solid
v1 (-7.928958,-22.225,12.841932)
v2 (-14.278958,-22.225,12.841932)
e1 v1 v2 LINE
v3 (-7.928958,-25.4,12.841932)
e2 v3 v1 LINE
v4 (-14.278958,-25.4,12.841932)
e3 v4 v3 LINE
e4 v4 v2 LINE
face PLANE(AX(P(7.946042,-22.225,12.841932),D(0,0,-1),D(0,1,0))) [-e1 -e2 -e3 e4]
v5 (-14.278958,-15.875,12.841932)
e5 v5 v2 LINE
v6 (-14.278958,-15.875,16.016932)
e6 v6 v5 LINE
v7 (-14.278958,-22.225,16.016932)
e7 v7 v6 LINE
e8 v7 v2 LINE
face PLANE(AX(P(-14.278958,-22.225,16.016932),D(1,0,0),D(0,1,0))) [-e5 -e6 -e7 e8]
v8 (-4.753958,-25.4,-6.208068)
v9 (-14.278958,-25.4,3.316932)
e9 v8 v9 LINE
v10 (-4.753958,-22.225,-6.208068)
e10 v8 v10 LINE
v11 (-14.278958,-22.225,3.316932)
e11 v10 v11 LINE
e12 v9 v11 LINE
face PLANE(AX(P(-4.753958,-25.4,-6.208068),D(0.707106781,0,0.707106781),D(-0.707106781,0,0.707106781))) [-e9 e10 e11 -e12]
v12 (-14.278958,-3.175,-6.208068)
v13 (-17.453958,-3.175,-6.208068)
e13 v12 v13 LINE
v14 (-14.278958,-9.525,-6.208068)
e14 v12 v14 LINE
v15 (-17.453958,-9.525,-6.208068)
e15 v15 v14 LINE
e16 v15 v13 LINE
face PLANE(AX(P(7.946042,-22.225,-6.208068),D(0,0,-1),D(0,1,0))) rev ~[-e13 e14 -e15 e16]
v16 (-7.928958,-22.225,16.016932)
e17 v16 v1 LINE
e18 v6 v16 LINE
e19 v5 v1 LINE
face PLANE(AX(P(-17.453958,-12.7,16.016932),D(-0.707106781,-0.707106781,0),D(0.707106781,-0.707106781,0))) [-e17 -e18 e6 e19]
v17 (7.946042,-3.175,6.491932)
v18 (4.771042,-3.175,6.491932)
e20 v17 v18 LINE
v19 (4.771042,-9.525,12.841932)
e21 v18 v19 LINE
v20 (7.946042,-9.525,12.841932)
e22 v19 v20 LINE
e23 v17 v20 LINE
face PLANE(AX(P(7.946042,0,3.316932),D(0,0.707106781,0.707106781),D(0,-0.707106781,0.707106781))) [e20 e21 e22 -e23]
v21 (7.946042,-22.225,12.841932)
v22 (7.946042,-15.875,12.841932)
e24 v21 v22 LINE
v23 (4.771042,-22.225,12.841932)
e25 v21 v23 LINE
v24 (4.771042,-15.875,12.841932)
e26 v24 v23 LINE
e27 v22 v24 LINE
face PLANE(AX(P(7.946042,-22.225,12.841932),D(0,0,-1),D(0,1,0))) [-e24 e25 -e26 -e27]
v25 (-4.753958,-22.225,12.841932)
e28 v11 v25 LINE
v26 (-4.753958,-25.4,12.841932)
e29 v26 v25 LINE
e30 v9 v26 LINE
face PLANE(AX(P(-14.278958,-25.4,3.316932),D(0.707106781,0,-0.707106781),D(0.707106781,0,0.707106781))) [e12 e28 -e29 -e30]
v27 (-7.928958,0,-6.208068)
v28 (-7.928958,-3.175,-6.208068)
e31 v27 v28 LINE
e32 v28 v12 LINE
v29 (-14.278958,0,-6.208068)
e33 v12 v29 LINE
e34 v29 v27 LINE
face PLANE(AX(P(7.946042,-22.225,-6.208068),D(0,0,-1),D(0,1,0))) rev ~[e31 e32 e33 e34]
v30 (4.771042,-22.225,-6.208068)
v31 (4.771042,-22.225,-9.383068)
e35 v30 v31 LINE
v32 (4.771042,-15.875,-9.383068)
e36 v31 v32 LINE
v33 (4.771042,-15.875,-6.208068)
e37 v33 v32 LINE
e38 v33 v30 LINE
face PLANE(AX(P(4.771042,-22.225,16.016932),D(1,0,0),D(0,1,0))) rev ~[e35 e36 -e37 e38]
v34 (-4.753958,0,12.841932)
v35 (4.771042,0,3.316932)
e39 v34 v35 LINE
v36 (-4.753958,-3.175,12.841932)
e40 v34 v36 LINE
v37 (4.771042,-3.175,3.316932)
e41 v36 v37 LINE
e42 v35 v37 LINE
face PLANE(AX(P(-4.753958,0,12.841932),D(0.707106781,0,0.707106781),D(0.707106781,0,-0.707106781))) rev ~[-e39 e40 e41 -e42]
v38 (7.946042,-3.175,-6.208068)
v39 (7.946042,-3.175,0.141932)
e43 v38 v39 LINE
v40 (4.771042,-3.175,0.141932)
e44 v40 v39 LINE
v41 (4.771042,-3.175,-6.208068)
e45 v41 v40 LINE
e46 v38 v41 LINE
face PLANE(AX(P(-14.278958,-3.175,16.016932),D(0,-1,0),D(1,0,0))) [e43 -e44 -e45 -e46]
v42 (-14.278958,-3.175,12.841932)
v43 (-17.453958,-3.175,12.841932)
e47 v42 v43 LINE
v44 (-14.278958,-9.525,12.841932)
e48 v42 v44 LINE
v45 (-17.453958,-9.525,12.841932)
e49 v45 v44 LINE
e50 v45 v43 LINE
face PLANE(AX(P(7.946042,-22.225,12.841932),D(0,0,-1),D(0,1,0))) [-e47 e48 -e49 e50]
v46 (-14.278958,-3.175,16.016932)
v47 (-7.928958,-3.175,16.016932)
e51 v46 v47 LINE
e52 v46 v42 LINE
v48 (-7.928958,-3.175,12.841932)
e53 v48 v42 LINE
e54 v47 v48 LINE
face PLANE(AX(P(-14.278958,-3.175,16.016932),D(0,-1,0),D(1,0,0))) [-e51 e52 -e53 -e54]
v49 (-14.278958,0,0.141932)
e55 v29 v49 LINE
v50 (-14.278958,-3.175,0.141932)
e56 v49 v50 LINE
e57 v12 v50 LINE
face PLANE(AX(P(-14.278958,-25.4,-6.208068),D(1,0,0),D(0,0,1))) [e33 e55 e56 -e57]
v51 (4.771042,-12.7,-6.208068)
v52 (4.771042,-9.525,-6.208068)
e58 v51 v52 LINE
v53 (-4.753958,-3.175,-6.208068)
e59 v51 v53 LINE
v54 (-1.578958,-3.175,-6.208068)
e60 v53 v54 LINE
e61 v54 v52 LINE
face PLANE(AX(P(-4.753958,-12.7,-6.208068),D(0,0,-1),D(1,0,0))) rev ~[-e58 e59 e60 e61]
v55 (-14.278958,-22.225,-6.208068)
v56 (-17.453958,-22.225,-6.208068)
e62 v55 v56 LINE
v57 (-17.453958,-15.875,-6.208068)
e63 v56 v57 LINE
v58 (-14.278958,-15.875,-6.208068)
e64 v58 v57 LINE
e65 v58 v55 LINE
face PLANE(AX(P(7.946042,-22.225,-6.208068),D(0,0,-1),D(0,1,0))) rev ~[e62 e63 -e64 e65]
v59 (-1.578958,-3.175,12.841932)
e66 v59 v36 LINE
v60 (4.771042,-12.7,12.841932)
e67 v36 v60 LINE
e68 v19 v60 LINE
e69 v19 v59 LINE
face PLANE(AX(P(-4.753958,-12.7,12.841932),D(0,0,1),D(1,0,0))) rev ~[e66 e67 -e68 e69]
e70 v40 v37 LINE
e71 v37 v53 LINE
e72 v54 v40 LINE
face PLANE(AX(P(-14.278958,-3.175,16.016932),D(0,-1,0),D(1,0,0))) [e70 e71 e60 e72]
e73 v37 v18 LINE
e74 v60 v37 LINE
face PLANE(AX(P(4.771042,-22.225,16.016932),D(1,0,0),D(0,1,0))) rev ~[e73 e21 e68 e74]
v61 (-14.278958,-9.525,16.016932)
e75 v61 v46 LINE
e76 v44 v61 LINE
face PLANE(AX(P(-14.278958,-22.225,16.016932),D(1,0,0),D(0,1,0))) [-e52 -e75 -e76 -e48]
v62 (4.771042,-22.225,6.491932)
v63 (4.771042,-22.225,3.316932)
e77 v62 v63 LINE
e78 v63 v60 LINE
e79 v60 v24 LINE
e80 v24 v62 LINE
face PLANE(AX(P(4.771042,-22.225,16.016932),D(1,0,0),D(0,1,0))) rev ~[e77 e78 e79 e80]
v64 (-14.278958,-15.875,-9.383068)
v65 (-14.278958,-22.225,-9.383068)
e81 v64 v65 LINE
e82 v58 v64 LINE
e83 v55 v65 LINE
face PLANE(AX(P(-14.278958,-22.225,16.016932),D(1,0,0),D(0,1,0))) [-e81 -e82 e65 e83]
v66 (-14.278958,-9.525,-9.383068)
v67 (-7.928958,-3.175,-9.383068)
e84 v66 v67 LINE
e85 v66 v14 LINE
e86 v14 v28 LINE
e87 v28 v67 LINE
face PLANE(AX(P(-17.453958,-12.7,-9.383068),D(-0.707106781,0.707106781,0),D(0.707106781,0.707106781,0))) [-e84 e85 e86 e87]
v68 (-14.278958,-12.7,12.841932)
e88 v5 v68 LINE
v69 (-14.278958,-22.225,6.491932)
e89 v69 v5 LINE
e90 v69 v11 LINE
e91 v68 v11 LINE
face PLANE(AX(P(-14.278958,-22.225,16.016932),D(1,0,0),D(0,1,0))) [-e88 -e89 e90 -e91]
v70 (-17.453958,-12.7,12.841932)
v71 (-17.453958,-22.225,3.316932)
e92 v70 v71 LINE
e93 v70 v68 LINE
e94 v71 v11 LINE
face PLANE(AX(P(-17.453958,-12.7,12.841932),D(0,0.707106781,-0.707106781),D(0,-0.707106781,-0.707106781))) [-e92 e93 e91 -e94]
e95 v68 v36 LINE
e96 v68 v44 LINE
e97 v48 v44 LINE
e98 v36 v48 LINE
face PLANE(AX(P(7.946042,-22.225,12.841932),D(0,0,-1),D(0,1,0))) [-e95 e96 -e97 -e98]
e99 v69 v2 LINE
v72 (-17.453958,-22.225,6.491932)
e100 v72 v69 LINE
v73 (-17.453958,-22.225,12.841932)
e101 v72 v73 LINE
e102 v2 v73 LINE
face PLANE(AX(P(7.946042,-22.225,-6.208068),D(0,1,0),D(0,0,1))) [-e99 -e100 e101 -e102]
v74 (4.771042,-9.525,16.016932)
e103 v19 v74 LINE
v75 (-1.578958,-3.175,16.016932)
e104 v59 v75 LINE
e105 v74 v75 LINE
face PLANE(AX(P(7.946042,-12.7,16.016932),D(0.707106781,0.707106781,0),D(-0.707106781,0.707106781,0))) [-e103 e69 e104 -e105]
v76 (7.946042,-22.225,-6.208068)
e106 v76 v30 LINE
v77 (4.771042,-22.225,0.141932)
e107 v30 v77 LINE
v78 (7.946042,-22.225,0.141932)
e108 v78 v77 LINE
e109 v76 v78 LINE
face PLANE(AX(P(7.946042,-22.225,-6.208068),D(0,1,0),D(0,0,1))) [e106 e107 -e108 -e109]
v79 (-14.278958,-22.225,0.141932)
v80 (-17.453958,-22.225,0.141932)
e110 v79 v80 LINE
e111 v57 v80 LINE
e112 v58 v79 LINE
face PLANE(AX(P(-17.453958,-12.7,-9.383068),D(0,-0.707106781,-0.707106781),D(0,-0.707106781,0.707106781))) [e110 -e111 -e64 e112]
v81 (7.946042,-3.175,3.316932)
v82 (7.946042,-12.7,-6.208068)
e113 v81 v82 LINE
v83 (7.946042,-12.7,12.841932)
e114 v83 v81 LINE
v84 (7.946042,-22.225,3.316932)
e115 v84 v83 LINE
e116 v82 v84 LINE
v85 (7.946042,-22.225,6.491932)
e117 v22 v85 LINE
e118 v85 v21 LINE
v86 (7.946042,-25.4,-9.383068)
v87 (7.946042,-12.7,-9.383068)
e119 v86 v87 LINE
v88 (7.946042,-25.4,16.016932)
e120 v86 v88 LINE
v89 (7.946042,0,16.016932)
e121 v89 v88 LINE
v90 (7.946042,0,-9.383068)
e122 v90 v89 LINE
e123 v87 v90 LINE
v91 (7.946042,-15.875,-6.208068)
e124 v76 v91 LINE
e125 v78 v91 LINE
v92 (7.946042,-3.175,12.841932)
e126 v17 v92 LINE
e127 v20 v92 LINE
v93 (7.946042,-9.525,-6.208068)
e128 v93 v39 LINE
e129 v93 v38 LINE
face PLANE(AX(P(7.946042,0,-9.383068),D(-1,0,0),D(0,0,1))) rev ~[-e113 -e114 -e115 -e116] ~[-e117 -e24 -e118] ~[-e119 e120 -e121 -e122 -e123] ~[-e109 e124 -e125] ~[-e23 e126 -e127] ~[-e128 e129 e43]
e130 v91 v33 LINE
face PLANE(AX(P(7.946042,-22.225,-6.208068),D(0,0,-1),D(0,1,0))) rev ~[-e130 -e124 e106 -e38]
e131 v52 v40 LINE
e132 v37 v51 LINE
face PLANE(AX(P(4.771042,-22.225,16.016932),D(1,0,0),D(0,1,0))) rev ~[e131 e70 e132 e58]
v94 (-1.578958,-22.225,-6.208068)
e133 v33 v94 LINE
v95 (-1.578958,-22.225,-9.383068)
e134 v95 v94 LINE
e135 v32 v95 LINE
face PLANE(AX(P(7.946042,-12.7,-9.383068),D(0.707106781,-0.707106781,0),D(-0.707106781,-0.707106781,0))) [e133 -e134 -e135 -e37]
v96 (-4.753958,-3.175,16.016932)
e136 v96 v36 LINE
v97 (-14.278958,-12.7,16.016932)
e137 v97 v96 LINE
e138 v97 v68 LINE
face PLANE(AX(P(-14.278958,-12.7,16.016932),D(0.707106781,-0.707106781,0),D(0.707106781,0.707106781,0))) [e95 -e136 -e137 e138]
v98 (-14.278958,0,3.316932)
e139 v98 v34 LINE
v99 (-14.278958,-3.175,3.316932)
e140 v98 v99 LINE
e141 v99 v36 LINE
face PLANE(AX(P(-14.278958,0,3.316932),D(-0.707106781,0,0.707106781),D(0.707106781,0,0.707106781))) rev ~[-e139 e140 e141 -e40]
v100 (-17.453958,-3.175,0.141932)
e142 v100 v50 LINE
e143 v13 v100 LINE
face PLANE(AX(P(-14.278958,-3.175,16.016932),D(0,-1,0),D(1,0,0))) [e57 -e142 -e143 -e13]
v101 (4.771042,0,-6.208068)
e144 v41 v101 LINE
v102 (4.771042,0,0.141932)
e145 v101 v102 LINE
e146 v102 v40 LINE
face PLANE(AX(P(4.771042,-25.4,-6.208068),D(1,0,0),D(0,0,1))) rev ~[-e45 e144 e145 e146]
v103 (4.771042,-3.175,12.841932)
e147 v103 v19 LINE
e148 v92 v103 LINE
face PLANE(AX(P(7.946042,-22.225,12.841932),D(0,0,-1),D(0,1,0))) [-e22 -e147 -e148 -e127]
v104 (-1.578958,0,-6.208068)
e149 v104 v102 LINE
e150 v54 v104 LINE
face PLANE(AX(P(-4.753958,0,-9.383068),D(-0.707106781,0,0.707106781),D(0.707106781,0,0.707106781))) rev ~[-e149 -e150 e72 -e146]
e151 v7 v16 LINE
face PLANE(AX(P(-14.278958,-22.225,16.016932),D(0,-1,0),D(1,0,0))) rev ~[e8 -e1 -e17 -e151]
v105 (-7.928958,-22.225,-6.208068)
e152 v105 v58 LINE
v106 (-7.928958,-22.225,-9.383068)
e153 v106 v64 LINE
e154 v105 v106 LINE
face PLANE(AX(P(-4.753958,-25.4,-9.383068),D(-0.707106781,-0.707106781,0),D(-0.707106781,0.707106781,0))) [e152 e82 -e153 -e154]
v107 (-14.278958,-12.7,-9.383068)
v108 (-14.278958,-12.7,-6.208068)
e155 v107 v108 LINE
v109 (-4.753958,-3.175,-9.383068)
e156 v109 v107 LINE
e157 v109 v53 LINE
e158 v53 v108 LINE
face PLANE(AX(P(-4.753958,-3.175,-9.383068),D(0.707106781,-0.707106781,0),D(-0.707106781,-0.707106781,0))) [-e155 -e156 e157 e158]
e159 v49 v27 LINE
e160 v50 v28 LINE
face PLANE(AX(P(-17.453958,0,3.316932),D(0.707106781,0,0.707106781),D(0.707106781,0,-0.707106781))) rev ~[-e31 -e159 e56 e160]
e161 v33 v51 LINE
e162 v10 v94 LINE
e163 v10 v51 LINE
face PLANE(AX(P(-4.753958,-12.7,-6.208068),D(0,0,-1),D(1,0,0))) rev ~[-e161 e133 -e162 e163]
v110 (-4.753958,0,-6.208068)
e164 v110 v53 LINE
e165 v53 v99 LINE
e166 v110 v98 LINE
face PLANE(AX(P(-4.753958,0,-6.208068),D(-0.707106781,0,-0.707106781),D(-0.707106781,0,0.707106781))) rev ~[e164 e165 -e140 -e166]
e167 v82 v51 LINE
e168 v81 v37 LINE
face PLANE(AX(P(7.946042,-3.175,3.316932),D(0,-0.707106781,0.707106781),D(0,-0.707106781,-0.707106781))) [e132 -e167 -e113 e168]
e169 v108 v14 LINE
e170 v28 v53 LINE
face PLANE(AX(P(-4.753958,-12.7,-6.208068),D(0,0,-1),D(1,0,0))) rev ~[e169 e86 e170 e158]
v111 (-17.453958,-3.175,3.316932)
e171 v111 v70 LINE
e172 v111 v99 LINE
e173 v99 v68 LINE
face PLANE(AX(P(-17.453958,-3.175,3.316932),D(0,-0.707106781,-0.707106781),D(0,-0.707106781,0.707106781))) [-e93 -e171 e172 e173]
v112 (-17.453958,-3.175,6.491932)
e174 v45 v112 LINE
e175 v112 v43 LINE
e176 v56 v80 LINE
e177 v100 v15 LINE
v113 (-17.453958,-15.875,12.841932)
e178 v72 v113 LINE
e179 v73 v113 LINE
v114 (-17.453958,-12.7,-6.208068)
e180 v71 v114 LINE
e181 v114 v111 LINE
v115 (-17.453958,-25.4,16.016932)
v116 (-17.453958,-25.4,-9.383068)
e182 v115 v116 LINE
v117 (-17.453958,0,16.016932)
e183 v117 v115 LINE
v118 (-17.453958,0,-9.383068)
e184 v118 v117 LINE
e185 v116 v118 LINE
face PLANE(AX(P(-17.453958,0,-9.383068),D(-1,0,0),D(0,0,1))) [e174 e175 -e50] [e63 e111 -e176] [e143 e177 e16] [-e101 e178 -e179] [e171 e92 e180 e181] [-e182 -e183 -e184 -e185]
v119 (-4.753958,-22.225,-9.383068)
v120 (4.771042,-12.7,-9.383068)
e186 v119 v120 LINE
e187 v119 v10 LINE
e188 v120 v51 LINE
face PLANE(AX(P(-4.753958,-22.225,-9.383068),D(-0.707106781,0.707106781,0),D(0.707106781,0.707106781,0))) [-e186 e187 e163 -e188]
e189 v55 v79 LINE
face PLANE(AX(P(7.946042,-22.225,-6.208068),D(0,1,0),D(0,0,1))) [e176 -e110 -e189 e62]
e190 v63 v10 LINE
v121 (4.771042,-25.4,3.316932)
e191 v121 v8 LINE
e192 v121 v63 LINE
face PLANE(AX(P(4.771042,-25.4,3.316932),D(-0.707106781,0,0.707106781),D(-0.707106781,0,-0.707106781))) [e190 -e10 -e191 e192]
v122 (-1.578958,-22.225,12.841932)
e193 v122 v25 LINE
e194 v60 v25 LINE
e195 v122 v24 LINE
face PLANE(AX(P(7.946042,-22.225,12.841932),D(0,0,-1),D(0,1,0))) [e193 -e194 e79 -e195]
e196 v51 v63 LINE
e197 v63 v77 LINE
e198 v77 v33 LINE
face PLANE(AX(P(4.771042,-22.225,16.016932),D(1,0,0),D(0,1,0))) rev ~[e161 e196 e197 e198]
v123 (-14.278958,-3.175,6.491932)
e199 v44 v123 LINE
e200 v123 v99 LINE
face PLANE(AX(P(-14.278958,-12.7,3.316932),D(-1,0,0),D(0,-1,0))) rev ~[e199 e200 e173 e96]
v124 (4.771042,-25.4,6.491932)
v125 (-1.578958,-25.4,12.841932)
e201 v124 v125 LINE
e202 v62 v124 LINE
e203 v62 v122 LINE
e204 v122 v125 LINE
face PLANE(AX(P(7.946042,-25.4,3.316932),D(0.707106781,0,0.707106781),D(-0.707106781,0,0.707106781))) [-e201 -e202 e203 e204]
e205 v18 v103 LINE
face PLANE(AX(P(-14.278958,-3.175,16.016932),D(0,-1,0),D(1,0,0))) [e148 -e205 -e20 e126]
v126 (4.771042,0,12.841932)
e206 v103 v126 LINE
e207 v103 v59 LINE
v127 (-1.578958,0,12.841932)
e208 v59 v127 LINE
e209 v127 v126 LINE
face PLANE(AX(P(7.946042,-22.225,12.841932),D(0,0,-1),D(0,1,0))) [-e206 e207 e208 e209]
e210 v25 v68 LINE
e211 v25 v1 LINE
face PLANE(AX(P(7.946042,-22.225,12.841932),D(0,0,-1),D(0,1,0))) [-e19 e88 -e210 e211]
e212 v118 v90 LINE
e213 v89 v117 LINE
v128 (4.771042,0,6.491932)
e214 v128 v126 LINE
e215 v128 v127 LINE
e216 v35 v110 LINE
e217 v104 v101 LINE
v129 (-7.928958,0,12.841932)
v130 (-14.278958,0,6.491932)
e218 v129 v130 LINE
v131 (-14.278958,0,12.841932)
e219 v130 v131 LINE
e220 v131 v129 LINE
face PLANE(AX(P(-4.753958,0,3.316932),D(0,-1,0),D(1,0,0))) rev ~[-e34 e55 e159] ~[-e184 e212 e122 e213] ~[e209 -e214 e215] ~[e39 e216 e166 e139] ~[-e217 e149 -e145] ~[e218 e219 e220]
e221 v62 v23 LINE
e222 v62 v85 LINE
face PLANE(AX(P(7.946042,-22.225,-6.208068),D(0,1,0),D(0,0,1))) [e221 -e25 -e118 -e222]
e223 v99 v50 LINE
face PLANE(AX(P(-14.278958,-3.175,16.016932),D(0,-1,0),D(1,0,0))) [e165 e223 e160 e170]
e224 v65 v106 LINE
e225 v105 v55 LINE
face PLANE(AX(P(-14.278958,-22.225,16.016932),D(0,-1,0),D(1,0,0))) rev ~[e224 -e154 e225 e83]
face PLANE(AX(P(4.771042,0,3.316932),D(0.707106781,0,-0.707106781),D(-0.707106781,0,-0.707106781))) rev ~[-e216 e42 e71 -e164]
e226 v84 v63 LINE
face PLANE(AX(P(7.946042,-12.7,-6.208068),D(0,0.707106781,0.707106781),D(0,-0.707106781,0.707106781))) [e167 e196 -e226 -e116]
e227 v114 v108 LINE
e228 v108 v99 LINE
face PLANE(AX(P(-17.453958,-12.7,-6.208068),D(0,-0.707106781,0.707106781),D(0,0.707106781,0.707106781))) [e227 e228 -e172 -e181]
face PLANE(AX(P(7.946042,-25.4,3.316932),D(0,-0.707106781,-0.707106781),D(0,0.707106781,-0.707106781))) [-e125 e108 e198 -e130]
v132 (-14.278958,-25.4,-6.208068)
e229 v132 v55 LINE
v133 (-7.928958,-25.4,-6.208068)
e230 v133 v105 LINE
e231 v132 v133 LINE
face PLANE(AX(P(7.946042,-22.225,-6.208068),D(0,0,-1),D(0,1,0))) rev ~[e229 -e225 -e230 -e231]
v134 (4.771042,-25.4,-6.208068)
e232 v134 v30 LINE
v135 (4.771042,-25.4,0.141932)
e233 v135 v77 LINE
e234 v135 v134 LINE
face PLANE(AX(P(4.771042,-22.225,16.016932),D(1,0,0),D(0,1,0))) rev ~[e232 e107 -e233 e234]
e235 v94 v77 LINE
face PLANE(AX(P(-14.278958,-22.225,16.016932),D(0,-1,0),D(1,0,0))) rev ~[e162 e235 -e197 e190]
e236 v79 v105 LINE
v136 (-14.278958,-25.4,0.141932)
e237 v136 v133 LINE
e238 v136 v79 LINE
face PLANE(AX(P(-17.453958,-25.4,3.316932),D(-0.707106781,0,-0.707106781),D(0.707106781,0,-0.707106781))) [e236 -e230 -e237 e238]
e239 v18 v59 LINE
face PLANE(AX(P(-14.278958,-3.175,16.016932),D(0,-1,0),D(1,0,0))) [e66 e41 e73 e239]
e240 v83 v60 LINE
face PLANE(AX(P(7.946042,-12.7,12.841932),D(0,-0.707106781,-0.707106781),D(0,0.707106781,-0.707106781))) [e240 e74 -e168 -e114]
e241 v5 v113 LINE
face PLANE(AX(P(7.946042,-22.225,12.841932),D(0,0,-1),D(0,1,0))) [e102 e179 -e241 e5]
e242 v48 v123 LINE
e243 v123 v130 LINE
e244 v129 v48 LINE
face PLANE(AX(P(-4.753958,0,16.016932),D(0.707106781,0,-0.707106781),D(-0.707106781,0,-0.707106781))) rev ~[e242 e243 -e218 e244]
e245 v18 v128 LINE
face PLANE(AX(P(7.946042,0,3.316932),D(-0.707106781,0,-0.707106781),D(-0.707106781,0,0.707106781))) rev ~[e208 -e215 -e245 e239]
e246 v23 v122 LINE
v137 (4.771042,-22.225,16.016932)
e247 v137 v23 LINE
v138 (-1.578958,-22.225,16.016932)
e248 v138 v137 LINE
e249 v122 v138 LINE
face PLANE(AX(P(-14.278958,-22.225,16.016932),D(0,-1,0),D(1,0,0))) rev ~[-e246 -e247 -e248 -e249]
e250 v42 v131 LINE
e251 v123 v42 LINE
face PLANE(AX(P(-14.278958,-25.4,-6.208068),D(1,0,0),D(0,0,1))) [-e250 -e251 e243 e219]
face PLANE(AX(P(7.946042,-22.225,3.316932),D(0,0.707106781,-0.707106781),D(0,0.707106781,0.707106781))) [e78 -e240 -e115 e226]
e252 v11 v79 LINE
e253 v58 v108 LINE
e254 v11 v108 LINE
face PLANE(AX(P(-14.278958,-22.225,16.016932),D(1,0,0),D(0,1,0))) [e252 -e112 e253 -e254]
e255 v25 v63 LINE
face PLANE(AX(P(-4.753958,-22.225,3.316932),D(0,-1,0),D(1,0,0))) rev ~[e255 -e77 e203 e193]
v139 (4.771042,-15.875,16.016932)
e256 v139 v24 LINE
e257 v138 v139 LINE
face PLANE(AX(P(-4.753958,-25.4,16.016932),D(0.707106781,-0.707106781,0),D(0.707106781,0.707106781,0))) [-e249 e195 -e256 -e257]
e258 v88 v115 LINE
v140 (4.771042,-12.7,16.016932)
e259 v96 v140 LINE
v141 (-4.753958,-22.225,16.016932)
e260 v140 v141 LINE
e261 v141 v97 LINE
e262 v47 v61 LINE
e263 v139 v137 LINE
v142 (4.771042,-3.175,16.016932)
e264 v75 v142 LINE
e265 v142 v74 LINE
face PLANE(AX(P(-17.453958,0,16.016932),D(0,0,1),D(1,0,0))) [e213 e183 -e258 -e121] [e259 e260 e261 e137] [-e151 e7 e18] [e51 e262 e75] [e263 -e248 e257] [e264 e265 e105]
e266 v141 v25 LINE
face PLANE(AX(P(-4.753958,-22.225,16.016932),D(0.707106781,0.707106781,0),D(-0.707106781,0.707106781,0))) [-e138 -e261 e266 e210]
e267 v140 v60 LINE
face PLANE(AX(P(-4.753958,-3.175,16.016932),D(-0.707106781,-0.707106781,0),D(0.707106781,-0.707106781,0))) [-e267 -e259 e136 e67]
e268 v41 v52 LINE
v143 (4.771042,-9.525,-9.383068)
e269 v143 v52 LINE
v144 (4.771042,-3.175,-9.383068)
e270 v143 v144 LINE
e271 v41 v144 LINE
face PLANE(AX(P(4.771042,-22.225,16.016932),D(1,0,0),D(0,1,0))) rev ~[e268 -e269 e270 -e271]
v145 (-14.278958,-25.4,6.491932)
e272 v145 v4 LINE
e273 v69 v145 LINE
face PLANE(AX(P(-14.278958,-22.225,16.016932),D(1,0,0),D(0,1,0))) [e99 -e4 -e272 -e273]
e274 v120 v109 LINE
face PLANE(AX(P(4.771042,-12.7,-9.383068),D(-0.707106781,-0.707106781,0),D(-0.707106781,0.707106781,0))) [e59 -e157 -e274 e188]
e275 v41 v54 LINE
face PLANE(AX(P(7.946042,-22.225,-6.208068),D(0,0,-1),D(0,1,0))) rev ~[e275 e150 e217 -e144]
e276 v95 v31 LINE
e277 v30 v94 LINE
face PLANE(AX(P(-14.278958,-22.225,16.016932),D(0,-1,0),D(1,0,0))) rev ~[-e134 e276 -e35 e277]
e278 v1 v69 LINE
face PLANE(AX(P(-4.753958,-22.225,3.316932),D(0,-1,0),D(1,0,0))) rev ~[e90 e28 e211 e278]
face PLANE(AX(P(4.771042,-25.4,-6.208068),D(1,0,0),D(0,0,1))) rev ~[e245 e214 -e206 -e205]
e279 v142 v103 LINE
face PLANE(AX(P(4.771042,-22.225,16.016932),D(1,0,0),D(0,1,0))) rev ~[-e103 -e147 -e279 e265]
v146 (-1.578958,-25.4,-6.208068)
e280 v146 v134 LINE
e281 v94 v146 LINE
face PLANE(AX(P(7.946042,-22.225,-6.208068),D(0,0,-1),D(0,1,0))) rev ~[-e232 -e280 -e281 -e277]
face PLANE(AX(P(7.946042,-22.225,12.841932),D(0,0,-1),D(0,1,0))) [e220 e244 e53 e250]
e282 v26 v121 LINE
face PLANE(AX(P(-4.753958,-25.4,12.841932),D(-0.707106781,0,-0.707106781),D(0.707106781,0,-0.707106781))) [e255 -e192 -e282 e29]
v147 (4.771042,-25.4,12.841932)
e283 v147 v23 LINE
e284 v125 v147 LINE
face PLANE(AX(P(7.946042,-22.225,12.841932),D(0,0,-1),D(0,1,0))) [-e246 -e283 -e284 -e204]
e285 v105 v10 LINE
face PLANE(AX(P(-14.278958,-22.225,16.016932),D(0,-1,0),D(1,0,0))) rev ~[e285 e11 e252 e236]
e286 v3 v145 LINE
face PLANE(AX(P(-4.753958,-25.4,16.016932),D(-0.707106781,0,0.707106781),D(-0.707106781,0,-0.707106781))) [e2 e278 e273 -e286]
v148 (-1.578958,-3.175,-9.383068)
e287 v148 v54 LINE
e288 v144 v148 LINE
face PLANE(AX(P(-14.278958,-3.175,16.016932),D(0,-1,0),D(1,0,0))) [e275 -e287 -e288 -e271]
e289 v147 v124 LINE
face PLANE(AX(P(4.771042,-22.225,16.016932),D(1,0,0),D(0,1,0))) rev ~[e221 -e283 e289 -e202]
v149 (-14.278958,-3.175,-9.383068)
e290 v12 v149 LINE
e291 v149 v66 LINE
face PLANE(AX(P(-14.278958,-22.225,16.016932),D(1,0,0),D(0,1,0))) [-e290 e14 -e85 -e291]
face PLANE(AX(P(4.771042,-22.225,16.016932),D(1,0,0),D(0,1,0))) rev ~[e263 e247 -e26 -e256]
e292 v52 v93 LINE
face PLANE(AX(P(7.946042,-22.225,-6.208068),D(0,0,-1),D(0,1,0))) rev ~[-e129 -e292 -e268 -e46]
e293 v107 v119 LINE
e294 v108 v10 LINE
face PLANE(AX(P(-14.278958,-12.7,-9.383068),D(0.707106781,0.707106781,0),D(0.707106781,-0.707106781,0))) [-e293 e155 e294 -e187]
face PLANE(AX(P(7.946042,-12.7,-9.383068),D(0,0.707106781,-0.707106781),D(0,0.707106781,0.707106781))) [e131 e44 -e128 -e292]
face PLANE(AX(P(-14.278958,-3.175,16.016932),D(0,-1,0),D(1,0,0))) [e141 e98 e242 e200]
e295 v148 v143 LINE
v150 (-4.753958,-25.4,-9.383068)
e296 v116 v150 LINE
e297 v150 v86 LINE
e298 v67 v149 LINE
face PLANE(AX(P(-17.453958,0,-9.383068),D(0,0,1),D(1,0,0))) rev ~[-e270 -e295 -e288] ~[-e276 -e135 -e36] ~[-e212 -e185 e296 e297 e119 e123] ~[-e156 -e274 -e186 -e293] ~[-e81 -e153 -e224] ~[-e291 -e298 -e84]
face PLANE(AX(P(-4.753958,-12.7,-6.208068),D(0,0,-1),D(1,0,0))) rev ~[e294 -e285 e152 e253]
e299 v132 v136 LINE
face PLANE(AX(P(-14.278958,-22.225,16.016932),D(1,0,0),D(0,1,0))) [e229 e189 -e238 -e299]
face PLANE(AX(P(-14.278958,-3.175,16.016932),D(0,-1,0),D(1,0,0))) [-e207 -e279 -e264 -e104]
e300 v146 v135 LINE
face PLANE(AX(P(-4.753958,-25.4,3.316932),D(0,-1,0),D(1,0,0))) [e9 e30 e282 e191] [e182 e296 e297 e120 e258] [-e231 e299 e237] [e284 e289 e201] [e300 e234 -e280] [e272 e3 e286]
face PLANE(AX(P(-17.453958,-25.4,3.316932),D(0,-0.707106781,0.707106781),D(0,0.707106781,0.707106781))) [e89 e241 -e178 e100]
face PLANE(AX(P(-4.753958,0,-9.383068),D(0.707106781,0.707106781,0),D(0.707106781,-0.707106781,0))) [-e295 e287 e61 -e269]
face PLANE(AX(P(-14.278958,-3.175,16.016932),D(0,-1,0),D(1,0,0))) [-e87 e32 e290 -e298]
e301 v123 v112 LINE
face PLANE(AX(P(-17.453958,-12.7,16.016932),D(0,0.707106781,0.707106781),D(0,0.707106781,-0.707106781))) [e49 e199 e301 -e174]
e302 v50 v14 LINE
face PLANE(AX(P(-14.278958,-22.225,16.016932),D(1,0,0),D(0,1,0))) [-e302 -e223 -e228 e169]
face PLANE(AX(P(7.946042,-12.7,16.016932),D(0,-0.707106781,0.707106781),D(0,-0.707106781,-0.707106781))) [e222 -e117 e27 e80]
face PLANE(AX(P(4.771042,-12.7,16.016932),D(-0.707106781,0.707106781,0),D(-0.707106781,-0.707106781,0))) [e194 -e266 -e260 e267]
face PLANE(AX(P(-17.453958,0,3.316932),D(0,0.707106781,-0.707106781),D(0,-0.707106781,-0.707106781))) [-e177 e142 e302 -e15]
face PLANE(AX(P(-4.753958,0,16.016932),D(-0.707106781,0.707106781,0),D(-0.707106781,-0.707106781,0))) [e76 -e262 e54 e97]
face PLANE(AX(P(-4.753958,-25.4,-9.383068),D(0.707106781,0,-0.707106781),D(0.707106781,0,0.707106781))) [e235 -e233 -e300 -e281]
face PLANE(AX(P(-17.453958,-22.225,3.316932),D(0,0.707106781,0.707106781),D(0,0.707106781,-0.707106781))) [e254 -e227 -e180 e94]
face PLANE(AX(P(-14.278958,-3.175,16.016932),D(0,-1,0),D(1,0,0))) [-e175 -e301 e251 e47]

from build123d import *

# Parameters (mm, degrees)
F0_W      = 25.4
F0_H      = 25.4
F1_DEPTH  = 25.4
F2_W      = 19.05
F2_H      = 19.05
F3_DEPTH  = 25.4
F4_W      = 19.05
F4_H      = 19.05
F5_DEPTH  = 25.4
F6_W      = 19.05
F6_H      = 19.05
F7_DEPTH  = 25.4
F9_DEPTH  = 3.175
F11_DEPTH = 3.175
F13_DEPTH = 3.175
F15_DEPTH = 3.175
F17_DEPTH = 3.175
F19_DEPTH = 3.175


with BuildPart() as f1:
    # F0 (on Front) → F1 (new body)
    with BuildSketch(Plane.XZ):
        with Locations((-4.7539575025, 3.3169323578)):
            Rectangle(F0_W, F0_H)
    extrude(amount=F1_DEPTH)

    # F2 (on face) → F3 (cut)
    with BuildSketch(Plane.XZ.offset(25.4)):
        with Locations((-4.7539575025, 3.3169323578)):
            Rectangle(F2_W, F2_H)
    extrude(amount=-F3_DEPTH, mode=Mode.SUBTRACT)

    # F4 (on face) → F5 (cut)
    with BuildSketch(Plane.YZ.offset(7.9460424975)):
        with Locations((-12.7, 3.3169323578)):
            Rectangle(F4_W, F4_H)
    extrude(amount=-F5_DEPTH, mode=Mode.SUBTRACT)

    # F6 (on face) → F7 (cut)
    with BuildSketch(Plane.XY.offset(16.0169323578)):
        with Locations((-4.7539575025, -12.7)):
            Rectangle(F6_W, F6_H)
    extrude(amount=-F7_DEPTH, mode=Mode.SUBTRACT)

    # F8 (on Front) → F9 (join)
    with BuildSketch(Plane.XZ):
        Polygon((7.9460424975, 3.3169323578), (-4.7539575025, 16.0169323578), (-17.4539575025, 3.3169323578), (-4.7539575025, -9.3830676422), align=None)
        Polygon((-14.2789575025, 3.3169323578), (-4.7539575025, 12.8419323578), (4.7710424975, 3.3169323578), (-4.7539575025, -6.2080676422), align=None, mode=Mode.SUBTRACT)
    extrude(amount=F9_DEPTH)

    # F10 (on face) → F11 (join)
    with BuildSketch(Plane.YZ.offset(7.9460424975)):
        Polygon((0, 3.3169323578), (-12.7, 16.0169323578), (-25.4, 3.3169323578), (-12.7, -9.3830676422), align=None)
        Polygon((-22.225, 3.3169323578), (-12.7, 12.8419323578), (-3.175, 3.3169323578), (-12.7, -6.2080676422), align=None, mode=Mode.SUBTRACT)
    extrude(amount=-F11_DEPTH)

    # F12 (on face) → F13 (join)
    with BuildSketch(Plane.XY.offset(16.0169323578)):
        Polygon((7.9460424975, -12.7), (-4.7539575025, 0), (-17.4539575025, -12.7), (-4.7539575025, -25.4), align=None)
        Polygon((-14.2789575025, -12.7), (-4.7539575025, -3.175), (4.7710424975, -12.7), (-4.7539575025, -22.225), align=None, mode=Mode.SUBTRACT)
    extrude(amount=-F13_DEPTH)

    # F14 (on face) → F15 (join)
    with BuildSketch(Plane(origin=(-17.4539575025, 0, 0), x_dir=(0, -1, 0), z_dir=(-1, 0, 0))):
        Polygon((25.4, 3.3169323578), (12.7, 16.0169323578), (0, 3.3169323578), (12.7, -9.3830676422), align=None)
        Polygon((3.175, 3.3169323578), (12.7, 12.8419323578), (22.225, 3.3169323578), (12.7, -6.2080676422), align=None, mode=Mode.SUBTRACT)
    extrude(amount=-F15_DEPTH)

    # F16 (on face) → F17 (join)
    with BuildSketch(Plane.XZ.offset(25.4)):
        Polygon((7.9460424975, 3.3169323578), (-4.7539575025, 16.0169323578), (-17.4539575025, 3.3169323578), (-4.7539575025, -9.3830676422), align=None)
        Polygon((-14.2789575025, 3.3169323578), (-4.7539575025, 12.8419323578), (4.7710424975, 3.3169323578), (-4.7539575025, -6.2080676422), align=None, mode=Mode.SUBTRACT)
    extrude(amount=-F17_DEPTH)

    # F18 (on face) → F19 (join)
    with BuildSketch(Plane(origin=(0, 0, -9.3830676422), x_dir=(1, 0, 0), z_dir=(0, 0, -1))):
        Polygon((7.9460424975, 12.7), (-4.7539575025, 25.4), (-17.4539575025, 12.7), (-4.7539575025, 0), align=None)
        Polygon((-14.2789575025, 12.7), (-4.7539575025, 22.225), (4.7710424975, 12.7), (-4.7539575025, 3.175), align=None, mode=Mode.SUBTRACT)
    extrude(amount=-F19_DEPTH)


solid = f1.part
